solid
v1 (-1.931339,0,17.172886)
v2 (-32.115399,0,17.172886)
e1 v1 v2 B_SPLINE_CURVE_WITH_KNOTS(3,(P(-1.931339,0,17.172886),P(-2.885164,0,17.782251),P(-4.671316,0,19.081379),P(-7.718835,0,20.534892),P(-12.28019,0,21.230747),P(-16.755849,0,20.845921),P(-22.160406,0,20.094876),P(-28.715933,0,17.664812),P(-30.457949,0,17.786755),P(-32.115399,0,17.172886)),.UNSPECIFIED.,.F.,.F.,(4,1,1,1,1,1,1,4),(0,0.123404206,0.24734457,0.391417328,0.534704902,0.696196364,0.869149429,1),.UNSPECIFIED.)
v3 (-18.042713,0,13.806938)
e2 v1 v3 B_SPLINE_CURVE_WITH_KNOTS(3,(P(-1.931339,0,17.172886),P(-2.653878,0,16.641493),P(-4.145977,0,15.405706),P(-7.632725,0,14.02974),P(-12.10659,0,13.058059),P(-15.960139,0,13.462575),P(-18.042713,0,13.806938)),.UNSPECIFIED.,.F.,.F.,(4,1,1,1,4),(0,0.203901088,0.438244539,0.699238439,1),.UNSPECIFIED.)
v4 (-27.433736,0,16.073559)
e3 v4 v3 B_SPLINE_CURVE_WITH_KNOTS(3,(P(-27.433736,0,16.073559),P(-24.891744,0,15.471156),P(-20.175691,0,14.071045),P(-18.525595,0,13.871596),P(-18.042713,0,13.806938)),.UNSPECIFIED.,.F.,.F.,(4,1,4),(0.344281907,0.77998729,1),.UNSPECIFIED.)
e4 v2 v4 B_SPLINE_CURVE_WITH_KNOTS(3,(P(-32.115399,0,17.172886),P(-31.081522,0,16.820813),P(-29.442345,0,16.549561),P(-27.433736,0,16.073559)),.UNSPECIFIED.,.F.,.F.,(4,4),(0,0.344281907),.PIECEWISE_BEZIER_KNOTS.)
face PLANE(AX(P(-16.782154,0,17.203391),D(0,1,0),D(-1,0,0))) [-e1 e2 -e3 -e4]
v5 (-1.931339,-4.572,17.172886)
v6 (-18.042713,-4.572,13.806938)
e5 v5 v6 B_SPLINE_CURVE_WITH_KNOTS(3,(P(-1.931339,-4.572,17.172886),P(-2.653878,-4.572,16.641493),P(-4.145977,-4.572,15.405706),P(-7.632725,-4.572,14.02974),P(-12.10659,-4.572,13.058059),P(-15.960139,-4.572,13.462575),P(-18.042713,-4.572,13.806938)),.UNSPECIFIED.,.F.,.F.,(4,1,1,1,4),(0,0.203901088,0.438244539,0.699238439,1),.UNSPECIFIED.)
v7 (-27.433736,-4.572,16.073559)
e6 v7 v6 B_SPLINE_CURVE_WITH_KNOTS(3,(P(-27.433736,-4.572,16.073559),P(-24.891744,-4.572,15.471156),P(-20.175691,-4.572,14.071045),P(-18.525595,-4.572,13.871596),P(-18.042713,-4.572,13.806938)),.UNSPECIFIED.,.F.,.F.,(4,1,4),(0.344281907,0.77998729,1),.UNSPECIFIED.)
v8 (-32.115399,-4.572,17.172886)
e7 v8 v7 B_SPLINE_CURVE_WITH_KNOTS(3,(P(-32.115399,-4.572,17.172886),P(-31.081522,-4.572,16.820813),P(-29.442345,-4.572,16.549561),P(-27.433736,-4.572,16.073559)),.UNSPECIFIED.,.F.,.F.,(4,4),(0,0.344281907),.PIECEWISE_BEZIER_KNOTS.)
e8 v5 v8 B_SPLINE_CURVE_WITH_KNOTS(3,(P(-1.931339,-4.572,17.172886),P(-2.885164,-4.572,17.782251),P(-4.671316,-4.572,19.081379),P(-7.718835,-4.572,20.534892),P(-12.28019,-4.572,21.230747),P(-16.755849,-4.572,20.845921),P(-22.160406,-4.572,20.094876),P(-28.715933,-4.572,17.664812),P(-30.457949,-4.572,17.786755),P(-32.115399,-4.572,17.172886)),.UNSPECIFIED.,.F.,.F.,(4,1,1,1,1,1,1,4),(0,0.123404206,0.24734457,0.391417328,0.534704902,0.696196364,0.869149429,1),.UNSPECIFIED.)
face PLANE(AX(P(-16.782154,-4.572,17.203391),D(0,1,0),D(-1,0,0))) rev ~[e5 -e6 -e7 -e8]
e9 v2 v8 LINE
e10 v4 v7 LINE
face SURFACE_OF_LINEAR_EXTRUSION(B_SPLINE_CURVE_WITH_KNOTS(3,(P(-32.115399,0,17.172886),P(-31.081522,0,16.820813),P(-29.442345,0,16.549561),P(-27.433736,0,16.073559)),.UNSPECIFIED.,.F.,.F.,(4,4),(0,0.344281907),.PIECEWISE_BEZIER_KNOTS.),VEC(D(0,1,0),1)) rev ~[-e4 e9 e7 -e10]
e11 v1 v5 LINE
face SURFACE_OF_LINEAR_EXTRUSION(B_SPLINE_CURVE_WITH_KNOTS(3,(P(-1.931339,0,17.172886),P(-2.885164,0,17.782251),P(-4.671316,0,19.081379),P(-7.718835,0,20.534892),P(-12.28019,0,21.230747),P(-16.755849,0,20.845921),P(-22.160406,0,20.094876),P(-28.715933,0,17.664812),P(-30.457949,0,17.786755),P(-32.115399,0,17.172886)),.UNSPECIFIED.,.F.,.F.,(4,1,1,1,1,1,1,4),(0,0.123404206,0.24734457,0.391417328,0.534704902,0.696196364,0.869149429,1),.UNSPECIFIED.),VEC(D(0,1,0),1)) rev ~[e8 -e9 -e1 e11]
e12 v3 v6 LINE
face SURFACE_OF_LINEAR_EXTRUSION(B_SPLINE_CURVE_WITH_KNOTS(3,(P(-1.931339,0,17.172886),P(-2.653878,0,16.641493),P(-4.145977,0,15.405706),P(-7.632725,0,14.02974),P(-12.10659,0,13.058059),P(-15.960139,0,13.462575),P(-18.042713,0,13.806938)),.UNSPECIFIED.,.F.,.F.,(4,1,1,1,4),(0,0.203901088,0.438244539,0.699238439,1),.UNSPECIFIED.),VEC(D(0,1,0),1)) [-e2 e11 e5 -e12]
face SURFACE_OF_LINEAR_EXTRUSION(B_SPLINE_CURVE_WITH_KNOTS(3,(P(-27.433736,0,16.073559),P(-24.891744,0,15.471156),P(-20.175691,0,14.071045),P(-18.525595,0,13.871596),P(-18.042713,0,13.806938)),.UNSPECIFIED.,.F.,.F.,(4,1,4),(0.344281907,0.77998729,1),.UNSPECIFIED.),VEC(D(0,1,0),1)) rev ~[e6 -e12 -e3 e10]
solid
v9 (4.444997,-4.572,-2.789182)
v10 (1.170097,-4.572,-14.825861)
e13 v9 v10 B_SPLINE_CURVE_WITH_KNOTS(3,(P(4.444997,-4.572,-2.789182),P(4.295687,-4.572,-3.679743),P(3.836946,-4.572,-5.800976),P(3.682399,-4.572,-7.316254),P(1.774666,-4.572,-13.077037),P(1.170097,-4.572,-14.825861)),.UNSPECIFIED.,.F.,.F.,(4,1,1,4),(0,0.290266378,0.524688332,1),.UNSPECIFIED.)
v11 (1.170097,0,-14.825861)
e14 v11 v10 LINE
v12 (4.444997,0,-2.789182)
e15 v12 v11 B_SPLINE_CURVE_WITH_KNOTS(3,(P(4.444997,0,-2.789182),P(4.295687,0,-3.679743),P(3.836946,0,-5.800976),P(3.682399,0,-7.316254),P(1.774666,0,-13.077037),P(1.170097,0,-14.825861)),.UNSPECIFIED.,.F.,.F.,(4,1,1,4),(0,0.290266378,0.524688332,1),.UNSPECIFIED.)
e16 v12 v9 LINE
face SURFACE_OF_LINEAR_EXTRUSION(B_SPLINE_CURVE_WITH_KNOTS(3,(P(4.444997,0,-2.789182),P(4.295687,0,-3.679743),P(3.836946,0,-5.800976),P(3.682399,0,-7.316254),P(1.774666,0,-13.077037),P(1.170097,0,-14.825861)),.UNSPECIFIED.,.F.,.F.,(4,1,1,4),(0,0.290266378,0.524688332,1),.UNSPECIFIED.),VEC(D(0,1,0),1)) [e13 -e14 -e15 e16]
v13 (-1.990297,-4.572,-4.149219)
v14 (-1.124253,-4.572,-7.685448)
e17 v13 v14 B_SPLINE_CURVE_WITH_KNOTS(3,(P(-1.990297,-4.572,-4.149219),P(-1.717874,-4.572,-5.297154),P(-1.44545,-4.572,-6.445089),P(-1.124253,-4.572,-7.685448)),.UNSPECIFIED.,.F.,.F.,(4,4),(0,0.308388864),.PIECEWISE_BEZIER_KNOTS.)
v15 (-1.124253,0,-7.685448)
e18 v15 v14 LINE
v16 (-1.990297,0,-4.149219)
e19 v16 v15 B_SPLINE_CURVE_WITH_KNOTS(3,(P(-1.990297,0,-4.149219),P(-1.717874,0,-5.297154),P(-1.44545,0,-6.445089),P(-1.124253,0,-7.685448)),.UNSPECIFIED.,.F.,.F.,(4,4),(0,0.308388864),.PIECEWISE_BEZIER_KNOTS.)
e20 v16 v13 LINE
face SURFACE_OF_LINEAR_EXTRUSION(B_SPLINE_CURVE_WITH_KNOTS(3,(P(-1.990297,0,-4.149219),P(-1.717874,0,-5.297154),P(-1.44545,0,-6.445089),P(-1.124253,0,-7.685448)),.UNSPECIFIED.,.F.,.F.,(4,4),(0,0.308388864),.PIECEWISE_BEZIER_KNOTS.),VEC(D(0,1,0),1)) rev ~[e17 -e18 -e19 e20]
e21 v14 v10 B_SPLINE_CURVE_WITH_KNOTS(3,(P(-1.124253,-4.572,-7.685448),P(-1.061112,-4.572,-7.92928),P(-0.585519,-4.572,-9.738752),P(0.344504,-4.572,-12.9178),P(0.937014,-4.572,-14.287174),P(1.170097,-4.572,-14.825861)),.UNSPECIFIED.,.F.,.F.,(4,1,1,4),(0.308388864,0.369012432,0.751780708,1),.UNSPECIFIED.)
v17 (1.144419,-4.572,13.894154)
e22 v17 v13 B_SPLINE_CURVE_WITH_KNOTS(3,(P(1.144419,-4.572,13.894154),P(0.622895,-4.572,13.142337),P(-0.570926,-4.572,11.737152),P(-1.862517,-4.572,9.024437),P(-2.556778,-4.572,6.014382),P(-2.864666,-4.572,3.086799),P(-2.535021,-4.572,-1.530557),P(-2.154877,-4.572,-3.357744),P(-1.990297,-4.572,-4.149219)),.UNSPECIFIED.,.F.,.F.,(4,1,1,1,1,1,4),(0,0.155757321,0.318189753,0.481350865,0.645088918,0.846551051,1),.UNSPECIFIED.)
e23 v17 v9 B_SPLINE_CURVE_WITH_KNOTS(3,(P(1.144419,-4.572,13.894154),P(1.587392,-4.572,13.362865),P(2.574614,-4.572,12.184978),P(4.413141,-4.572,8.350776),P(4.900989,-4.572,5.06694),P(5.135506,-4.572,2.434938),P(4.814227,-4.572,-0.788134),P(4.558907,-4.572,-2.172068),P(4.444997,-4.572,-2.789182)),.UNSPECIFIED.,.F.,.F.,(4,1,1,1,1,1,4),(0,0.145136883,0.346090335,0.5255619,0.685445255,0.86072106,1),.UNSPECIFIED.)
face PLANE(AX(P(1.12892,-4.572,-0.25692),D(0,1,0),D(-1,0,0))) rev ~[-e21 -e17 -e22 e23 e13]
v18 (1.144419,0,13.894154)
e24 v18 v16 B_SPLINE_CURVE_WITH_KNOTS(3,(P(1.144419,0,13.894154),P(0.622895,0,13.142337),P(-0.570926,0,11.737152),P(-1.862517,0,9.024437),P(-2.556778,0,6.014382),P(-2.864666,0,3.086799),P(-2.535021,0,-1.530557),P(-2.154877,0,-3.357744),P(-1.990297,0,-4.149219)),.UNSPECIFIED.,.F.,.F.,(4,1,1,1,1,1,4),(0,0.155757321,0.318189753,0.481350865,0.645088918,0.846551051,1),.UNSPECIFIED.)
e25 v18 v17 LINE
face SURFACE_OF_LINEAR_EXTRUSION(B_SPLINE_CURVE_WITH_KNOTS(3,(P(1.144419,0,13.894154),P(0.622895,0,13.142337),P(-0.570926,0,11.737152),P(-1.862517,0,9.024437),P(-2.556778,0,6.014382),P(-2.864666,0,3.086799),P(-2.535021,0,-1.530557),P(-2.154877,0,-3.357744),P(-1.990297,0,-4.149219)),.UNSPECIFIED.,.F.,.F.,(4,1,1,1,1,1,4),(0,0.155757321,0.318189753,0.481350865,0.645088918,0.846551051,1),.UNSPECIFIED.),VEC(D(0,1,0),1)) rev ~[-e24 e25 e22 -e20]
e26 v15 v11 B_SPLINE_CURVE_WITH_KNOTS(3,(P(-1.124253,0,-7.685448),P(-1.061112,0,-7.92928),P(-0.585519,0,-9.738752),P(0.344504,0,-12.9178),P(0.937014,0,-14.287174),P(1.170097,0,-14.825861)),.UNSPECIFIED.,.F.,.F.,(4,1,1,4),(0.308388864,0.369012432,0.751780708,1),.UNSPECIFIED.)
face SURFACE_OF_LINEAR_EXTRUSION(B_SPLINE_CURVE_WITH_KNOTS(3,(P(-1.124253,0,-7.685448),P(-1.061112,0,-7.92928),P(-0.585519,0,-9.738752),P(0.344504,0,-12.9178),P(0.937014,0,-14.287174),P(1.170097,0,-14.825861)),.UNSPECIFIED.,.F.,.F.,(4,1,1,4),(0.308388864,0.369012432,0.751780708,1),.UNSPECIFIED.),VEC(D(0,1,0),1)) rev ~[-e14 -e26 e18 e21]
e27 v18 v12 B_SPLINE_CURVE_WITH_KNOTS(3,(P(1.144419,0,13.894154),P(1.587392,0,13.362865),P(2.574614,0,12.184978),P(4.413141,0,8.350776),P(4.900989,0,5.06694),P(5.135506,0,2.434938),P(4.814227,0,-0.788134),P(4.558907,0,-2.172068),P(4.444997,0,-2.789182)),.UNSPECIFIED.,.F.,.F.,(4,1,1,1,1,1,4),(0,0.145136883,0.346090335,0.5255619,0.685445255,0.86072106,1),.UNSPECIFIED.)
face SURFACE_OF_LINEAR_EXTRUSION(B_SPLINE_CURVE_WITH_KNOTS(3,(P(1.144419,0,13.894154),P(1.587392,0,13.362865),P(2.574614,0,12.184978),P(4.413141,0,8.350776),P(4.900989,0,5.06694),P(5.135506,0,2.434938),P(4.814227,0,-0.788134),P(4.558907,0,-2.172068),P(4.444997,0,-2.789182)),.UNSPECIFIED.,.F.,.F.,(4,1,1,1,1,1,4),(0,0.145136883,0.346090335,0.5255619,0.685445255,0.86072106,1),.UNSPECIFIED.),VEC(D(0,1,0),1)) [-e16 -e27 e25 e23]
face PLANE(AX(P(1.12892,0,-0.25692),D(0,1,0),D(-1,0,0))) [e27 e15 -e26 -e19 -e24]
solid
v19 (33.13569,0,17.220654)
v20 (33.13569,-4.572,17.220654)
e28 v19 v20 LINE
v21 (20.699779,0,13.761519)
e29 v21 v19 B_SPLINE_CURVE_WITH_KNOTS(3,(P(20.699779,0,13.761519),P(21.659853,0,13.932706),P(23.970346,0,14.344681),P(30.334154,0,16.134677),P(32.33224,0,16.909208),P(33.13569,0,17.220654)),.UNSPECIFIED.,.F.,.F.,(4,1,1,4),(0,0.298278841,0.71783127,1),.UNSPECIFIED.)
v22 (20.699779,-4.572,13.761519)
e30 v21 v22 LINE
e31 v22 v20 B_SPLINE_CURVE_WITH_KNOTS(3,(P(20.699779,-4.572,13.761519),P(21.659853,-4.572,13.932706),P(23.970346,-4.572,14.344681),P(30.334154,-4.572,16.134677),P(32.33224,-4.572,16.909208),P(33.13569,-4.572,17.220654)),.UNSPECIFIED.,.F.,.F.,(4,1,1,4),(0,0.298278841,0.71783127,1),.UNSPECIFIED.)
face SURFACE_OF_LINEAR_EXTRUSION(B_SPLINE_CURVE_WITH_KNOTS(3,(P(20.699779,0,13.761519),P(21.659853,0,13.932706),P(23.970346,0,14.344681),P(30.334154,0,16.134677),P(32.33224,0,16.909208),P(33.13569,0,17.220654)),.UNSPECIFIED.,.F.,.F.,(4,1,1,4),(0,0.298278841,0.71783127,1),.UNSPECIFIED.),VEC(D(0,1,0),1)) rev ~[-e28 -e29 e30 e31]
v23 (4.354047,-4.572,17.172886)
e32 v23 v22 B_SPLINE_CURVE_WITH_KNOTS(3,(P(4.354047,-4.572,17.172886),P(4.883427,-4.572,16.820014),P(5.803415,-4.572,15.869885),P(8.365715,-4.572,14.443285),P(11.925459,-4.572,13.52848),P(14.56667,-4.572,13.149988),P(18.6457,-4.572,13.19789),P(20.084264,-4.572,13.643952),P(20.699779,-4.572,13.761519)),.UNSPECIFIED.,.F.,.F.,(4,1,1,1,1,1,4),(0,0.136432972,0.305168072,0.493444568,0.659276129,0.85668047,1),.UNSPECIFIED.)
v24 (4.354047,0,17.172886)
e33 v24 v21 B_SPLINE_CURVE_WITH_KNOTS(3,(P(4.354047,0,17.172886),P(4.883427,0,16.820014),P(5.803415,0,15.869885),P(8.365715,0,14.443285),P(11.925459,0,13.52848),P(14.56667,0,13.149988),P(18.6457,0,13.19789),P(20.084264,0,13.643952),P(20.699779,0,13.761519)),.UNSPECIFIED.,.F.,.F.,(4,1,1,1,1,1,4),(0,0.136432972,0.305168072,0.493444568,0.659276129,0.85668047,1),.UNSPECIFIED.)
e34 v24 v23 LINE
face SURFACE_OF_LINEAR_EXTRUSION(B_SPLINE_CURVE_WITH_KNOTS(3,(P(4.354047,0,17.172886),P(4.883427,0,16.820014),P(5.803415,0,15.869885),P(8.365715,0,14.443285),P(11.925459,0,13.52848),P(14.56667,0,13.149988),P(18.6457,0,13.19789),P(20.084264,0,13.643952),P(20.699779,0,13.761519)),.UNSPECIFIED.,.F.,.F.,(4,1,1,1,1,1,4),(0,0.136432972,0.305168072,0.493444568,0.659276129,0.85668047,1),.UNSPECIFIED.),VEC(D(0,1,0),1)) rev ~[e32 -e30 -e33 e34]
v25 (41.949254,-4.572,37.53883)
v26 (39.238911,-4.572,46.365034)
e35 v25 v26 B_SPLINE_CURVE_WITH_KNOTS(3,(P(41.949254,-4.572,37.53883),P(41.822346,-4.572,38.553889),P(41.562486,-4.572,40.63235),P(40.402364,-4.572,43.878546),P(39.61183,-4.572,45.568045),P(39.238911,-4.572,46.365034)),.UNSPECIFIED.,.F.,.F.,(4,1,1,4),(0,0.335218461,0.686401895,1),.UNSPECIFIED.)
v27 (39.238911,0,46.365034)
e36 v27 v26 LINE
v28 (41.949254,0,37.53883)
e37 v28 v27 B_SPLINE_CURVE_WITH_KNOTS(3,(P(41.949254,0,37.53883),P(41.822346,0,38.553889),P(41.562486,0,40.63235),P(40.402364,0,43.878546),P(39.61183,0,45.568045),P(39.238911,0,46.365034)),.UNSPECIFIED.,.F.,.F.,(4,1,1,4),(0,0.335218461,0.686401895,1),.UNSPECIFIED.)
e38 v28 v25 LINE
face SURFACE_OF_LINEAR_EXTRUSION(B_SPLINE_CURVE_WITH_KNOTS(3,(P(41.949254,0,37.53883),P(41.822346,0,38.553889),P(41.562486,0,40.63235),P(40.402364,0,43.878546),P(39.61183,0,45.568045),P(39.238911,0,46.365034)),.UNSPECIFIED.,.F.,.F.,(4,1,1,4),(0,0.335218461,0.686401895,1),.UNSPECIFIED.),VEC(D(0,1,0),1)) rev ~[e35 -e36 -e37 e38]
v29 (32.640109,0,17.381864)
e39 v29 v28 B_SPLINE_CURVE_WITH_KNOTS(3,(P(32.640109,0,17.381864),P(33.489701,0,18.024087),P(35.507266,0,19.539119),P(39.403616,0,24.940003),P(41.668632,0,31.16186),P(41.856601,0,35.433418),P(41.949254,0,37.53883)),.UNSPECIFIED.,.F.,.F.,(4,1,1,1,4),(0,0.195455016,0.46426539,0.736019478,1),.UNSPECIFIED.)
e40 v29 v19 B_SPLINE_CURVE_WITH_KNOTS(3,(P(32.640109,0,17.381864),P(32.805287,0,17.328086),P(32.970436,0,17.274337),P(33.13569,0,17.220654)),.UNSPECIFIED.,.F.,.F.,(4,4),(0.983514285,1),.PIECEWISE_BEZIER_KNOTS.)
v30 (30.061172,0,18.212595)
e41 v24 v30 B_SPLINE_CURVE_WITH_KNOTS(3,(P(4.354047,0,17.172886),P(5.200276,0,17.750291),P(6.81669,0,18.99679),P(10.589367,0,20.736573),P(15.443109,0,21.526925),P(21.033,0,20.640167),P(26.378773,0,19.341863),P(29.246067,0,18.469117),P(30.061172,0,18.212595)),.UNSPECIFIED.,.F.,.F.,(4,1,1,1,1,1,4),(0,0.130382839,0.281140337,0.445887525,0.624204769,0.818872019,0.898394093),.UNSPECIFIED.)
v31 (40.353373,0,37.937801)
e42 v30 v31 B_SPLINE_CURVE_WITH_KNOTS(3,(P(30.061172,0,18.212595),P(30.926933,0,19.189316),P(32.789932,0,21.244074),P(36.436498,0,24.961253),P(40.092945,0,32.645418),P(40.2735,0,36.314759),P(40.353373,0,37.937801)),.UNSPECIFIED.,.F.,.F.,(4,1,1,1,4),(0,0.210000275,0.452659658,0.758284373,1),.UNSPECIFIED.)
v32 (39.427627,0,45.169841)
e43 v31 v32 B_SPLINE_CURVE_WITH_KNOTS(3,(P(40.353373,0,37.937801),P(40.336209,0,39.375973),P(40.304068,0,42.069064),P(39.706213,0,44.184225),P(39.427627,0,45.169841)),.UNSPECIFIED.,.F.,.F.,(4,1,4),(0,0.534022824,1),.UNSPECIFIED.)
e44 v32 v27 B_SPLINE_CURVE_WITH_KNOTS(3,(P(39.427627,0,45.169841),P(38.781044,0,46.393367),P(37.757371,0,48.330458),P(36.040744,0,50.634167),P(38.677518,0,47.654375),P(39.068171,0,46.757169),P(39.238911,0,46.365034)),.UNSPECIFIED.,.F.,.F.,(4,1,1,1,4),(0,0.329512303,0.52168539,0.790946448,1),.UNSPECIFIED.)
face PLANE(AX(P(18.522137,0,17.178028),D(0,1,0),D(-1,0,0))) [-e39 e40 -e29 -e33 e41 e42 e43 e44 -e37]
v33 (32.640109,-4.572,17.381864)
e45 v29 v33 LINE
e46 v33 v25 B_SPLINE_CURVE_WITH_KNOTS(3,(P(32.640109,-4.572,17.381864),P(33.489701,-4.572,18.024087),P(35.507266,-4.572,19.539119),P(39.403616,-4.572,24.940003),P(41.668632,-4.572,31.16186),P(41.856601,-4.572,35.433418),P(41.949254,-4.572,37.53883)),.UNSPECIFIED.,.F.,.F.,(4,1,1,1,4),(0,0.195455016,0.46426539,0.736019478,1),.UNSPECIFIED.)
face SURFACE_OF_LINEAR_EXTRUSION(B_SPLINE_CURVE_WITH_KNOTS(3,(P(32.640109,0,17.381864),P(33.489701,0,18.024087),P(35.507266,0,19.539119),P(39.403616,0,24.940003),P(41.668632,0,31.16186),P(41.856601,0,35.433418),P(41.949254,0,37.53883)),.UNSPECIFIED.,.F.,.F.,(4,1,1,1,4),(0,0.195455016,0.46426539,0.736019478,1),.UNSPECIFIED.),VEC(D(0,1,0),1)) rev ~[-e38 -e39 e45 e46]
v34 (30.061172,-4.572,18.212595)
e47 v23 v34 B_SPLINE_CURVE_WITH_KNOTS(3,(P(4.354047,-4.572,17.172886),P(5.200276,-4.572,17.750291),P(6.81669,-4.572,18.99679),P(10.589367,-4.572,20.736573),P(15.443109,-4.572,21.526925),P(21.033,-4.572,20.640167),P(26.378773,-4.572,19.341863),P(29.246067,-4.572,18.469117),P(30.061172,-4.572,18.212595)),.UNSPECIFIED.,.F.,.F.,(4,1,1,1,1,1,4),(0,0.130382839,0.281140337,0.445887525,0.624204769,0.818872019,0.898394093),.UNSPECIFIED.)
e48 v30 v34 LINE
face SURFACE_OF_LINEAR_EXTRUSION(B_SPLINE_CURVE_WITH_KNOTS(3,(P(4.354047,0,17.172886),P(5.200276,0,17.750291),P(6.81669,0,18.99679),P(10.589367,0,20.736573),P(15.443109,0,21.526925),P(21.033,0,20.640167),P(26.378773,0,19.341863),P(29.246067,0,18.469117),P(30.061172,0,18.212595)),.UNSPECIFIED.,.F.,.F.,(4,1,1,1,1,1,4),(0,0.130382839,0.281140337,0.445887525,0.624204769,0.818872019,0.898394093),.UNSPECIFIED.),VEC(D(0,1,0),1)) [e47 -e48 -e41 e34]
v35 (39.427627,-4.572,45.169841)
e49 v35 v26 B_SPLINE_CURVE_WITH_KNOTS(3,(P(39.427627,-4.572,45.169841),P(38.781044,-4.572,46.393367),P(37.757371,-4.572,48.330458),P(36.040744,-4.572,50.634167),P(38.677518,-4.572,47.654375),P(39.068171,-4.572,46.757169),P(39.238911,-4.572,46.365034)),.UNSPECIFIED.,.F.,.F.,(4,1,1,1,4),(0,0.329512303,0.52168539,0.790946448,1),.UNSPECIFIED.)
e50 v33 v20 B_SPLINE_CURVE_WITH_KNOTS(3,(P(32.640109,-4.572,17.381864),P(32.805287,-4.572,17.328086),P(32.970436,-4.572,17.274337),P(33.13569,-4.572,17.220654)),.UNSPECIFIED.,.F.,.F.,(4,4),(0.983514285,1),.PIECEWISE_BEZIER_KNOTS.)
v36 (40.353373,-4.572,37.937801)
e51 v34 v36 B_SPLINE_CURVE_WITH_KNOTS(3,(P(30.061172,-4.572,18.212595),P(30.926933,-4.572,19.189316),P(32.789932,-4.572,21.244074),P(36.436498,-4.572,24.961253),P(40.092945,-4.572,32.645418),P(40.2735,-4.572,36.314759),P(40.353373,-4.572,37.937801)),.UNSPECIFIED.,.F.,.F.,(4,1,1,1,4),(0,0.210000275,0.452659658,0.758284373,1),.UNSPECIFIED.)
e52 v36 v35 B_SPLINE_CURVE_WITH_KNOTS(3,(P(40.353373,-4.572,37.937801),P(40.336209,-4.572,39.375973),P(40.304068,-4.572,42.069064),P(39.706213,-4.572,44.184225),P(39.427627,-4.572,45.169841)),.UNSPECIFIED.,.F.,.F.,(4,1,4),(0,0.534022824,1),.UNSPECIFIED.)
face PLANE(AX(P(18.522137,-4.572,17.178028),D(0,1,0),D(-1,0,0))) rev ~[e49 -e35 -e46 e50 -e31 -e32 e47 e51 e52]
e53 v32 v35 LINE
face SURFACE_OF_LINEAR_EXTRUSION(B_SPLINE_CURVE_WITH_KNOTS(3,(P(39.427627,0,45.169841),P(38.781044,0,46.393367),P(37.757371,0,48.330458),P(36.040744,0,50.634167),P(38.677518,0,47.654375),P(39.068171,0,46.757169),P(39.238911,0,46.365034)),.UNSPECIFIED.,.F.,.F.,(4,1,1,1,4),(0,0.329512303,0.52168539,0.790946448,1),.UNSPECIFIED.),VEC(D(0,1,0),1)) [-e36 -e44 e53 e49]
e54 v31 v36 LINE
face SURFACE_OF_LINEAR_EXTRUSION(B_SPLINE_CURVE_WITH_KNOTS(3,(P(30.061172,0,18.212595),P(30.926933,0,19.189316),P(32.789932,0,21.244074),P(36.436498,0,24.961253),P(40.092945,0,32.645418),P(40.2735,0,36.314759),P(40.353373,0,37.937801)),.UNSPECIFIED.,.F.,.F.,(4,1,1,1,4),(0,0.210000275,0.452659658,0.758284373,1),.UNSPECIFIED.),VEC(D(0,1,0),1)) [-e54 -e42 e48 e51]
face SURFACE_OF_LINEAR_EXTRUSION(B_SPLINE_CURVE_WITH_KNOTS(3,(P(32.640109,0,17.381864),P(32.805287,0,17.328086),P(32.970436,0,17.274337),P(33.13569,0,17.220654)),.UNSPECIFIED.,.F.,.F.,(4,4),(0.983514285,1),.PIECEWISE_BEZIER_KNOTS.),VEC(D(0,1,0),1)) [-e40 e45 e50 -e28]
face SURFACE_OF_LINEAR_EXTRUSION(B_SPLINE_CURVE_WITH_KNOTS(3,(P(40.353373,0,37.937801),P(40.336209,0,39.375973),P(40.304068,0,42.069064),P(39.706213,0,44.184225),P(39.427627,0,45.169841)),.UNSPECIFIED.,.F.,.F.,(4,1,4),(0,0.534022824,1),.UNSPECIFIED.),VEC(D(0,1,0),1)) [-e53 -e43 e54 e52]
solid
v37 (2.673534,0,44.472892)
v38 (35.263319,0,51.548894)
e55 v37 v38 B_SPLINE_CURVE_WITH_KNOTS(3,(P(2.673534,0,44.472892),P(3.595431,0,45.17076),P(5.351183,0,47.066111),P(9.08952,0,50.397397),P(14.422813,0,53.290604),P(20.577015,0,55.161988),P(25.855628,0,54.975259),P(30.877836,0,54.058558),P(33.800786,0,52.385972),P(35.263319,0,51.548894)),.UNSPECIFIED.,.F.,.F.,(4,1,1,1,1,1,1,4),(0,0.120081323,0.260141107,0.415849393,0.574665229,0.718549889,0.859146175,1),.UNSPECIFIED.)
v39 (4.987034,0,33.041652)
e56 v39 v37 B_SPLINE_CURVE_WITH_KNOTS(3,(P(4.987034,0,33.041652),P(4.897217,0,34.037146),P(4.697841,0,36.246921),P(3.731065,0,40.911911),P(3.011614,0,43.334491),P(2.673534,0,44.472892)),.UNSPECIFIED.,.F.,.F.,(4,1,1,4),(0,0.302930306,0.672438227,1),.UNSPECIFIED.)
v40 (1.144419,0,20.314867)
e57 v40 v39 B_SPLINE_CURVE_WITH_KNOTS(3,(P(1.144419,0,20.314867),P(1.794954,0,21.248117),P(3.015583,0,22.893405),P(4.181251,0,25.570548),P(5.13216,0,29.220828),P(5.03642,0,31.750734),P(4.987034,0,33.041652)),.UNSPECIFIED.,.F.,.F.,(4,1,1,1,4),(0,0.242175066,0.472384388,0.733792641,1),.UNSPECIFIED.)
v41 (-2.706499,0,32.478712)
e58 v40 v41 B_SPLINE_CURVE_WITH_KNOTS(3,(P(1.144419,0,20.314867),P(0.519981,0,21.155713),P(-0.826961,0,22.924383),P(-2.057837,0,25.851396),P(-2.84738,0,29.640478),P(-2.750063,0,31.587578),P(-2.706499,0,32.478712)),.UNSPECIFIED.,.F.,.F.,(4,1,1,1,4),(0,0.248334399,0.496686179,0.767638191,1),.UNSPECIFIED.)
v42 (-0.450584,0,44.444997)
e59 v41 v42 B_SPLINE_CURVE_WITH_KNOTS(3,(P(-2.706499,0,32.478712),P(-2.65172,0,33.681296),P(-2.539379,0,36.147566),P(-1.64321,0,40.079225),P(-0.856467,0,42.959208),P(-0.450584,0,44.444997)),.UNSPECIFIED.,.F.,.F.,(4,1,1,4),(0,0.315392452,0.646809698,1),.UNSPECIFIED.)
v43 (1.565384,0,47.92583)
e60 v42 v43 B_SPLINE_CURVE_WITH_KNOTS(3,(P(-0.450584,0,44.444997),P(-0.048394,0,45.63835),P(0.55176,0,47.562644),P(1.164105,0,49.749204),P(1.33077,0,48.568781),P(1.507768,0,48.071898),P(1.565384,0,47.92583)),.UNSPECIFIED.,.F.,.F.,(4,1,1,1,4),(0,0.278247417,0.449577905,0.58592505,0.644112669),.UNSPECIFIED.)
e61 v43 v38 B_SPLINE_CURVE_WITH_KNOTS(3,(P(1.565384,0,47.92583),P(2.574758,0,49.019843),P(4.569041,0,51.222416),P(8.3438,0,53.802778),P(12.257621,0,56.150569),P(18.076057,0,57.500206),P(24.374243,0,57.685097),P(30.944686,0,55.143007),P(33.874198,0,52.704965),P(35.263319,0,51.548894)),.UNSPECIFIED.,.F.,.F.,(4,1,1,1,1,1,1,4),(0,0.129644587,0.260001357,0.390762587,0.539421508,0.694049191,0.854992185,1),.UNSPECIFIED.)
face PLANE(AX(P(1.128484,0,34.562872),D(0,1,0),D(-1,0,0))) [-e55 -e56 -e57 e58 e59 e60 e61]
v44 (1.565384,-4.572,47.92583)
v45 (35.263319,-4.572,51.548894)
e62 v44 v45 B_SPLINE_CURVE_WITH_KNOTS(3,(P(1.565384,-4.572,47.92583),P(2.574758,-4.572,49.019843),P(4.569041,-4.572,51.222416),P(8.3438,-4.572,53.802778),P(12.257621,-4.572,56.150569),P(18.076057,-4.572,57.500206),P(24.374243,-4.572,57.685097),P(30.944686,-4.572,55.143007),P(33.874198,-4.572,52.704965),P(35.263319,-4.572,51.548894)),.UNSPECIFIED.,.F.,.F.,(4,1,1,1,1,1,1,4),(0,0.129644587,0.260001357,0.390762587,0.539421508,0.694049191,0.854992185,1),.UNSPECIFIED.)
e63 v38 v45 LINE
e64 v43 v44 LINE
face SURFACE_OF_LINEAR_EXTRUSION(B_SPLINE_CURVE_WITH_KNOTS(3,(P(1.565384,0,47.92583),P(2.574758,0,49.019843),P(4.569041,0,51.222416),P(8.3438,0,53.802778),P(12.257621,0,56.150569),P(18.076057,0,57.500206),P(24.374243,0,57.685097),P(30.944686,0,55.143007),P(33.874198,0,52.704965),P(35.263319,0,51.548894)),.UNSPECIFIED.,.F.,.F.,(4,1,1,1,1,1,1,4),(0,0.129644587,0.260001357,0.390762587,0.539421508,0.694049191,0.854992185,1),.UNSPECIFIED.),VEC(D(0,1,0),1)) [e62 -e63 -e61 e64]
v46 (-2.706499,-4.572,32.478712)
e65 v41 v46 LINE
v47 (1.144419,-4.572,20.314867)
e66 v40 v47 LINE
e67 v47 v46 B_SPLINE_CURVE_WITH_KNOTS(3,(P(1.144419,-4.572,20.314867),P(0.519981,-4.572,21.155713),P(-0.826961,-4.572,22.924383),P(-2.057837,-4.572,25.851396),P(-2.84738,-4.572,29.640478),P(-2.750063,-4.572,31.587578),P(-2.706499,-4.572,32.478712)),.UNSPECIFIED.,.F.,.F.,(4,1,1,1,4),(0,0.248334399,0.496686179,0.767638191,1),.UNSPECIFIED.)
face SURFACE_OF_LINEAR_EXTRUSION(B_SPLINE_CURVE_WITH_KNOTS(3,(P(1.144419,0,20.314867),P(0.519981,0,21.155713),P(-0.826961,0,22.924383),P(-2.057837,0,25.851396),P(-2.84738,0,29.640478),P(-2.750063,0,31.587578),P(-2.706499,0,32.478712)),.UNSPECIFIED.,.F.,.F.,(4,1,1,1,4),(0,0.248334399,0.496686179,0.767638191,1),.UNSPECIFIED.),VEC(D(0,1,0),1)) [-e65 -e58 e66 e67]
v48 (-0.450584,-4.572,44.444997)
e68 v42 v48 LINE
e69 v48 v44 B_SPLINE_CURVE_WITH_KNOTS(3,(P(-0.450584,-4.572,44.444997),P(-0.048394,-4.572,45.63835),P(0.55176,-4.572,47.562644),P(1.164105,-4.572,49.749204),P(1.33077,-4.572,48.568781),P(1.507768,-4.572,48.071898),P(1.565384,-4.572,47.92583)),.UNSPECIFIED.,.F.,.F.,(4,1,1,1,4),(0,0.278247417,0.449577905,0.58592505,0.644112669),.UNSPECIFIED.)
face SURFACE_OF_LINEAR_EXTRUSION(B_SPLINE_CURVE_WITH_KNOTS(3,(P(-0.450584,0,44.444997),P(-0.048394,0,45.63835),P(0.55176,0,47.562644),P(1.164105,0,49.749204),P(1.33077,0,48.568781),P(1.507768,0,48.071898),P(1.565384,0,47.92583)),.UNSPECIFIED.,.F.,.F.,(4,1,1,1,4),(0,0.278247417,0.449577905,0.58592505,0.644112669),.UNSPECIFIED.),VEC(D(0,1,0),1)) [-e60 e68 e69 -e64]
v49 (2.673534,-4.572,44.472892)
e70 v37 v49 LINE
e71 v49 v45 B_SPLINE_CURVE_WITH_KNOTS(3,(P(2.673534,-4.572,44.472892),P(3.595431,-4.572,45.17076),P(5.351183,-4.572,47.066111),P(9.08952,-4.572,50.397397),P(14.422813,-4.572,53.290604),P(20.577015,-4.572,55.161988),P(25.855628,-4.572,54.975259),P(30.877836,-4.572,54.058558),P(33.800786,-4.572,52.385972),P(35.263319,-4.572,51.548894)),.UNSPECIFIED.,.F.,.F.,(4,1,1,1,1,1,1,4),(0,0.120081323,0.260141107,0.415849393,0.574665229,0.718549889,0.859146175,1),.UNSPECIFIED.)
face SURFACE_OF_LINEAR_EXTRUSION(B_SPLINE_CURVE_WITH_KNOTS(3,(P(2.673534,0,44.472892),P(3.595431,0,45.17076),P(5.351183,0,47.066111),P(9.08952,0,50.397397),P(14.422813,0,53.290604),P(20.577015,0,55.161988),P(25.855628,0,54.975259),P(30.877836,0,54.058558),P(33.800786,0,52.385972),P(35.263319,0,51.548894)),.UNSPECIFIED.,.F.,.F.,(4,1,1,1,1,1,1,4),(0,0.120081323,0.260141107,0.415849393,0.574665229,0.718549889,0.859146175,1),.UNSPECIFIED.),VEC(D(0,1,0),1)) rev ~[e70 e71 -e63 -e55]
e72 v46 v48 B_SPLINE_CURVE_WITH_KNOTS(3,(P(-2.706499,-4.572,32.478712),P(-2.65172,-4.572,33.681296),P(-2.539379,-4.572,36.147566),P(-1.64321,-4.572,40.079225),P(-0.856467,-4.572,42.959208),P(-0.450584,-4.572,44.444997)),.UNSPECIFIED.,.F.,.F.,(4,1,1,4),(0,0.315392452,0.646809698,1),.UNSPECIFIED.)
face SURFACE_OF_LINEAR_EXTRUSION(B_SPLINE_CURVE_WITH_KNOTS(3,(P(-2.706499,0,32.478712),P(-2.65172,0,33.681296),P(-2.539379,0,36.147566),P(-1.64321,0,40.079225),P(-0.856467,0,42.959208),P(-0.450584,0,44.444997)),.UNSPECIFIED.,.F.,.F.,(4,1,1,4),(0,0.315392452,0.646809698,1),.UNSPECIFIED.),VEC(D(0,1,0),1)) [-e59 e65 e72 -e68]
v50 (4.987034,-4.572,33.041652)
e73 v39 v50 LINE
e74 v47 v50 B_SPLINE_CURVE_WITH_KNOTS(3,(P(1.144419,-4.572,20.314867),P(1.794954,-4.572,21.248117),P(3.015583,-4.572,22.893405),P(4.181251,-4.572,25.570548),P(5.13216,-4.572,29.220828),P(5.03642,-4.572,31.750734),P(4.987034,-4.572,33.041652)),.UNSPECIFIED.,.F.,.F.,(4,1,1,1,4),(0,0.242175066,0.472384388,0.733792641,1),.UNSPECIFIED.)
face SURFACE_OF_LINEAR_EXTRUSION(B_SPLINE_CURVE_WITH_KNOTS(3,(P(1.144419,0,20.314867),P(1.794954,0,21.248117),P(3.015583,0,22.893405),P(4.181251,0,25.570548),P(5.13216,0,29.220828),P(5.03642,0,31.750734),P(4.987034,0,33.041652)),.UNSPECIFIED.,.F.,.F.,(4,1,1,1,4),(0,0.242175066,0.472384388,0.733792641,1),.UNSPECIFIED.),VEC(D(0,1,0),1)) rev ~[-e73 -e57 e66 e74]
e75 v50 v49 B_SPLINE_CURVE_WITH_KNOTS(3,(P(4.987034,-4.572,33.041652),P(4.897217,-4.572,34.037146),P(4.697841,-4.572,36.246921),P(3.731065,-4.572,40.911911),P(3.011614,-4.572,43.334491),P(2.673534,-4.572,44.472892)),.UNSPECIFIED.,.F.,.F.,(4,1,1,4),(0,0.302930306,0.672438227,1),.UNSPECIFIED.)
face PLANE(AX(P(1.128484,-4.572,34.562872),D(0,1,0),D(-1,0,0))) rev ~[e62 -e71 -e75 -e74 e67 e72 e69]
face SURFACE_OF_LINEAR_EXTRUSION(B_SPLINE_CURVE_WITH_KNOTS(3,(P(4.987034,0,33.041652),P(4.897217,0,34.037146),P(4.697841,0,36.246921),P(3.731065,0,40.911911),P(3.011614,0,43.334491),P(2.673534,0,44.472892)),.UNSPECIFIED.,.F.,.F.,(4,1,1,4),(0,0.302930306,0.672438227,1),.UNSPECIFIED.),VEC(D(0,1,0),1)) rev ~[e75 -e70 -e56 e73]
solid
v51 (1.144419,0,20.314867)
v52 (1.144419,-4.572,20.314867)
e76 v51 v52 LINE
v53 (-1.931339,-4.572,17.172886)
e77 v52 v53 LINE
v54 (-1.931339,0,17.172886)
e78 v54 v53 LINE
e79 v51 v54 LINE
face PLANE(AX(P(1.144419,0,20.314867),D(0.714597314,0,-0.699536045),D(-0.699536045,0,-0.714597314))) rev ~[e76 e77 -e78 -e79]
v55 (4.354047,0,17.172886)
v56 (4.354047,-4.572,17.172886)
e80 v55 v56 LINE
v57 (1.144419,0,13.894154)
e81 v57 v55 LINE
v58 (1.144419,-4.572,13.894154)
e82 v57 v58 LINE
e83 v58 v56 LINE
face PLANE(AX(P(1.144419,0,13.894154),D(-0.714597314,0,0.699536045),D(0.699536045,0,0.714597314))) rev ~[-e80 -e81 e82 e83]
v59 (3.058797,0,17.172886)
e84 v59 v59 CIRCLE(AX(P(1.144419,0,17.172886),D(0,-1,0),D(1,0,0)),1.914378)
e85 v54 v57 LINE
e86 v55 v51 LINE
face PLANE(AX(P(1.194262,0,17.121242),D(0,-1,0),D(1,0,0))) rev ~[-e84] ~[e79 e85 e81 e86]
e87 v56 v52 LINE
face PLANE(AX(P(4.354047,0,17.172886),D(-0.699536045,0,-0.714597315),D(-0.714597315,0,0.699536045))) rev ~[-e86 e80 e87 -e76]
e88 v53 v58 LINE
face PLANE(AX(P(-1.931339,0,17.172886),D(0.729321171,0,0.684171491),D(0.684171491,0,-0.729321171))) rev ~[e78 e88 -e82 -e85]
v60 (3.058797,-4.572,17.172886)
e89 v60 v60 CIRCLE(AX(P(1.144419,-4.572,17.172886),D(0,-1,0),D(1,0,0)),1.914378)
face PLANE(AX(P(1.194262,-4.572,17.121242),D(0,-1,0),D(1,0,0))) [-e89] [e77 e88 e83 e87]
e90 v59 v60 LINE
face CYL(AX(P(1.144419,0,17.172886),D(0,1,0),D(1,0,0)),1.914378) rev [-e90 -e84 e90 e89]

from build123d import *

# Parameters (mm, degrees)
F0_R     = 1.914377629
F1_DEPTH = 4.572


with BuildPart() as f1:
    # F0 (on Front) → F1 (new body)
    with BuildSketch(Plane.XZ):
        Polygon((4.3540473053, 17.1728864424), (1.144419075, 20.3148666769), (-1.9313389524, 17.1728864424), (1.144419075, 13.89415373), align=None)
        with Locations((1.144419075, 17.1728864424)):
            Circle(F0_R, mode=Mode.SUBTRACT)
    extrude(amount=F1_DEPTH)


with BuildPart() as f1b:
    # F0 (on Front) → F1, piece 2 (new body)
    with BuildSketch(Plane.XZ):
        with BuildLine():
            add(Edge.make_bspline(
                [(4.3540473053, 17.1728864424), (5.2002764718, 17.7502908704), (6.8166903181, 18.996790241), (10.5893674928, 20.7365730749), (15.4431085668, 21.5269247929), (21.0329995799, 20.6401669393), (26.3787727747, 19.3418628948), (29.2460669226, 18.4691171498), (30.0611715761, 18.2125954082)],
                knots=[0, 0, 0, 0, 0.1303828395, 0.2811403367, 0.4458875245, 0.6242047691, 0.8188720194, 0.898394093, 0.898394093, 0.898394093, 0.898394093], degree=3))
            add(Edge.make_bspline(
                [(4.3540473053, 17.1728864424), (4.8834267349, 16.82001367), (5.8034154669, 15.869885235), (8.3657148964, 14.4432850508), (11.9254587672, 13.5284804789), (14.5666703045, 13.1499881083), (18.6456998132, 13.1978904646), (20.084264205, 13.6439520346), (20.6997785717, 13.7615194544)],
                knots=[0, 0, 0, 0, 0.1364329724, 0.305168072, 0.4934445676, 0.6592761286, 0.8566804704, 1, 1, 1, 1], degree=3))
            add(Edge.make_bspline(
                [(20.6997785717, 13.7615194544), (21.659852867, 13.9327062748), (23.9703464616, 14.3446806958), (30.3341535032, 16.1346772301), (32.3322401963, 16.909207593), (33.135689795, 17.2206535935)],
                knots=[0, 0, 0, 0, 0.2982788408, 0.7178312704, 1, 1, 1, 1], degree=3))
            add(Edge.make_bspline(
                [(32.6401094693, 17.3818640199), (32.8052868046, 17.3280855801), (32.9704363032, 17.2743373784), (33.135689795, 17.2206535935)],
                knots=[0.9835142845, 0.9835142845, 0.9835142845, 0.9835142845, 1, 1, 1, 1], degree=3))
            add(Edge.make_bspline(
                [(30.0611715761, 18.2125954082), (30.9336571772, 17.9380152975), (31.7872543766, 17.6595365962), (32.6401094693, 17.3818640199)],
                knots=[0.898394093, 0.898394093, 0.898394093, 0.898394093, 0.9835142845, 0.9835142845, 0.9835142845, 0.9835142845], degree=3))
        make_face()
        with BuildLine():
            add(Edge.make_bspline(
                [(30.0611715761, 18.2125954082), (30.9269331199, 19.1893155517), (32.7899318145, 21.2440740263), (36.4364981048, 24.961252581), (40.0929451034, 32.6454180811), (40.2735001693, 36.3147586572), (40.3533726931, 37.9378013313)],
                knots=[0, 0, 0, 0, 0.2100002751, 0.4526596582, 0.7582843728, 1, 1, 1, 1], degree=3))
            add(Edge.make_bspline(
                [(30.0611715761, 18.2125954082), (30.9336571772, 17.9380152975), (31.7872543766, 17.6595365962), (32.6401094693, 17.3818640199)],
                knots=[0.898394093, 0.898394093, 0.898394093, 0.898394093, 0.9835142845, 0.9835142845, 0.9835142845, 0.9835142845], degree=3))
            add(Edge.make_bspline(
                [(32.6401094693, 17.3818640199), (33.4897005454, 18.0240874239), (35.5072661064, 19.5391188504), (39.4036161797, 24.9400033699), (41.6686316954, 31.1618598312), (41.8566010456, 35.4334183607), (41.9492535293, 37.5388301909)],
                knots=[0, 0, 0, 0, 0.1954550156, 0.4642653895, 0.7360194776, 1, 1, 1, 1], degree=3))
            add(Edge.make_bspline(
                [(41.9492535293, 37.5388301909), (41.8223458147, 38.5538892531), (41.5624863325, 40.6323501487), (40.402363814, 43.8785456989), (39.6118303279, 45.5680446774), (39.2389111221, 46.3650338352)],
                knots=[0, 0, 0, 0, 0.3352184614, 0.6864018947, 1, 1, 1, 1], degree=3))
            add(Edge.make_bspline(
                [(39.427626878, 45.1698414981), (38.7810438265, 46.3933671139), (37.7573705724, 48.3304584832), (36.0407442165, 50.6341665447), (38.6775176397, 47.6543749121), (39.0681710323, 46.7571691523), (39.2389111221, 46.3650338352)],
                knots=[0, 0, 0, 0, 0.3295123029, 0.52168539, 0.7909464476, 1, 1, 1, 1], degree=3))
            add(Edge.make_bspline(
                [(40.3533726931, 37.9378013313), (40.3362088283, 39.3759732268), (40.3040681332, 42.0690639189), (39.7062134945, 44.1842248021), (39.427626878, 45.1698414981)],
                knots=[0, 0, 0, 0, 0.5340228236, 1, 1, 1, 1], degree=3))
        make_face()
    extrude(amount=F1_DEPTH)


with BuildPart() as f1c:
    # F0 (on Front) → F1, piece 3 (new body)
    with BuildSketch(Plane.XZ):
        with BuildLine():
            add(Edge.make_bspline(
                [(1.144419075, 13.89415373), (1.5873923605, 13.3628649846), (2.5746141849, 12.1849783297), (4.4131407271, 8.3507755782), (4.9009891805, 5.0669399575), (5.1355059348, 2.4349377155), (4.8142273833, -0.7881344112), (4.5589072421, -2.1720681876), (4.444997292, -2.78918189)],
                knots=[0, 0, 0, 0, 0.1451368825, 0.3460903353, 0.5255618996, 0.6854452548, 0.8607210596, 1, 1, 1, 1], degree=3))
            add(Edge.make_bspline(
                [(1.144419075, 13.89415373), (0.6228953401, 13.1423373124), (-0.5709258071, 11.7371522739), (-1.8625165014, 9.0244370135), (-2.5567775596, 6.0143815258), (-2.8646663348, 3.0867992142), (-2.5350212726, -1.5305565313), (-2.1548771922, -3.3577439997), (-1.9902971108, -4.1492190212)],
                knots=[0, 0, 0, 0, 0.1557573206, 0.3181897533, 0.4813508649, 0.6450889183, 0.8465510507, 1, 1, 1, 1], degree=3))
            add(Edge.make_bspline(
                [(-1.9902971108, -4.1492190212), (-1.7178737386, -5.2971539706), (-1.4454503664, -6.4450889201), (-1.1242530752, -7.6854479893)],
                knots=[0, 0, 0, 0, 0.3083888636, 0.3083888636, 0.3083888636, 0.3083888636], degree=3))
            add(Edge.make_bspline(
                [(-1.1242530752, -7.6854479893), (-1.0611116055, -7.9292797298), (-0.5855188015, -9.7387517779), (0.3445038269, -12.9177999694), (0.9370137972, -14.2871736915), (1.1700966861, -14.8258609697)],
                knots=[0.3083888636, 0.3083888636, 0.3083888636, 0.3083888636, 0.3690124324, 0.7517807083, 1, 1, 1, 1], degree=3))
            add(Edge.make_bspline(
                [(4.444997292, -2.78918189), (4.2956867268, -3.6797425485), (3.8369457211, -5.80097639), (3.6823989386, -7.3162539335), (1.7746661624, -13.0770371946), (1.1700966861, -14.8258609697)],
                knots=[0, 0, 0, 0, 0.2902663782, 0.5246883324, 1, 1, 1, 1], degree=3))
        make_face()
    extrude(amount=F1_DEPTH)


with BuildPart() as f1d:
    # F0 (on Front) → F1, piece 4 (new body)
    with BuildSketch(Plane.XZ):
        with BuildLine():
            add(Edge.make_bspline(
                [(-1.9313389524, 17.1728864424), (-2.653877942, 16.6414931848), (-4.1459773771, 15.4057062505), (-7.6327253838, 14.0297397392), (-12.1065902091, 13.0580585735), (-15.9601385294, 13.4625747976), (-18.0427130181, 13.8069376461)],
                knots=[0, 0, 0, 0, 0.2039010882, 0.438244539, 0.6992384392, 1, 1, 1, 1], degree=3))
            add(Edge.make_bspline(
                [(-1.9313389524, 17.1728864424), (-2.8851640322, 17.7822505548), (-4.6713162549, 19.0813790115), (-7.7188353944, 20.5348916876), (-12.2801898612, 21.2307473484), (-16.755849135, 20.8459214352), (-22.1604059272, 20.0948760779), (-28.7159334213, 17.6648117868), (-30.4579488802, 17.7867546789), (-32.1153994519, 17.1728864424)],
                knots=[0, 0, 0, 0, 0.1234042062, 0.2473445701, 0.3914173275, 0.5347049015, 0.6961963635, 0.8691494288, 1, 1, 1, 1], degree=3))
            add(Edge.make_bspline(
                [(-32.1153994519, 17.1728864424), (-31.0815218836, 16.8208128963), (-29.4423448343, 16.5495606299), (-27.4337358642, 16.0735588632)],
                knots=[0, 0, 0, 0, 0.3442819071, 0.3442819071, 0.3442819071, 0.3442819071], degree=3))
            add(Edge.make_bspline(
                [(-27.4337358642, 16.0735588632), (-24.8917441946, 15.4711556361), (-20.1756912359, 14.0710446119), (-18.5255951576, 13.8715956747), (-18.0427130181, 13.8069376461)],
                knots=[0.3442819071, 0.3442819071, 0.3442819071, 0.3442819071, 0.7799872897, 1, 1, 1, 1], degree=3))
        make_face()
    extrude(amount=F1_DEPTH)


with BuildPart() as f1e:
    # F0 (on Front) → F1, piece 5 (new body)
    with BuildSketch(Plane.XZ):
        with BuildLine():
            add(Edge.make_bspline(
                [(1.144419075, 20.3148666769), (0.5199812184, 21.155713115), (-0.8269606258, 22.9243827894), (-2.0578372506, 25.851395924), (-2.8473804822, 29.6404775774), (-2.7500630231, 31.5875777064), (-2.7064986061, 32.4787124991)],
                knots=[0, 0, 0, 0, 0.2483343991, 0.4966861785, 0.7676381911, 1, 1, 1, 1], degree=3))
            add(Edge.make_bspline(
                [(1.144419075, 20.3148666769), (1.7949535806, 21.2481171338), (3.0155830796, 22.893404884), (4.1812513816, 25.5705479788), (5.1321604612, 29.2208283948), (5.0364200271, 31.7507338518), (4.987034481, 33.041652292)],
                knots=[0, 0, 0, 0, 0.242175066, 0.4723843884, 0.7337926408, 1, 1, 1, 1], degree=3))
            add(Edge.make_bspline(
                [(4.987034481, 33.041652292), (4.8972166456, 34.0371457109), (4.6978409318, 36.2469207507), (3.7310647068, 40.911911014), (3.0116135474, 43.3344911247), (2.6735344436, 44.4728918374)],
                knots=[0, 0, 0, 0, 0.3029303063, 0.6724382271, 1, 1, 1, 1], degree=3))
            add(Edge.make_bspline(
                [(1.5653843646, 47.9258298874), (1.6857206499, 47.620754174), (2.0978206625, 46.7600099213), (2.4321596428, 45.2804480019), (2.6735344436, 44.4728918374)],
                knots=[0.6441126688, 0.6441126688, 0.6441126688, 0.6441126688, 0.7656422353, 1, 1, 1, 1], degree=3))
            add(Edge.make_bspline(
                [(-0.4505839897, 44.4449968636), (-0.0483940922, 45.6383498132), (0.5517597256, 47.5626436454), (1.1641051588, 49.749204397), (1.3307698369, 48.5687814002), (1.5077680821, 48.0718982861), (1.5653843646, 47.9258298874)],
                knots=[0, 0, 0, 0, 0.2782474172, 0.449577905, 0.5859250504, 0.6441126688, 0.6441126688, 0.6441126688, 0.6441126688], degree=3))
            add(Edge.make_bspline(
                [(-2.7064986061, 32.4787124991), (-2.6517198732, 33.6812964098), (-2.5393791515, 36.1475663875), (-1.6432103241, 40.0792252934), (-0.8564665567, 42.959208297), (-0.4505839897, 44.4449968636)],
                knots=[0, 0, 0, 0, 0.3153924521, 0.6468096978, 1, 1, 1, 1], degree=3))
        make_face()
        with BuildLine():
            add(Edge.make_bspline(
                [(1.5653843646, 47.9258298874), (1.6857206499, 47.620754174), (2.0978206625, 46.7600099213), (2.4321596428, 45.2804480019), (2.6735344436, 44.4728918374)],
                knots=[0.6441126688, 0.6441126688, 0.6441126688, 0.6441126688, 0.7656422353, 1, 1, 1, 1], degree=3))
            add(Edge.make_bspline(
                [(2.6735344436, 44.4728918374), (3.5954309117, 45.1707597404), (5.3511831817, 47.0661107474), (9.0895204649, 50.3973970629), (14.422813355, 53.2906036208), (20.5770153177, 55.1619882104), (25.8556282032, 54.9752592041), (30.8778359052, 54.0585576622), (33.8007858184, 52.3859722809), (35.2633185685, 51.5488944948)],
                knots=[0, 0, 0, 0, 0.1200813232, 0.2601411068, 0.4158493927, 0.5746652292, 0.7185498892, 0.8591461752, 1, 1, 1, 1], degree=3))
            add(Edge.make_bspline(
                [(1.5653843646, 47.9258298874), (2.5747580811, 49.019842626), (4.5690406474, 51.2224163117), (8.3438004685, 53.8027781924), (12.2576206658, 56.1505689578), (18.0760567431, 57.5002057418), (24.3742434617, 57.6850968789), (30.9446863828, 55.1430071428), (33.8741977688, 52.7049652331), (35.2633185685, 51.5488944948)],
                knots=[0, 0, 0, 0, 0.129644587, 0.2600013573, 0.3907625867, 0.5394215081, 0.6940491911, 0.8549921848, 1, 1, 1, 1], degree=3))
        make_face()
    extrude(amount=F1_DEPTH)


solid = Compound([f1.part, f1b.part, f1c.part, f1d.part, f1e.part])
